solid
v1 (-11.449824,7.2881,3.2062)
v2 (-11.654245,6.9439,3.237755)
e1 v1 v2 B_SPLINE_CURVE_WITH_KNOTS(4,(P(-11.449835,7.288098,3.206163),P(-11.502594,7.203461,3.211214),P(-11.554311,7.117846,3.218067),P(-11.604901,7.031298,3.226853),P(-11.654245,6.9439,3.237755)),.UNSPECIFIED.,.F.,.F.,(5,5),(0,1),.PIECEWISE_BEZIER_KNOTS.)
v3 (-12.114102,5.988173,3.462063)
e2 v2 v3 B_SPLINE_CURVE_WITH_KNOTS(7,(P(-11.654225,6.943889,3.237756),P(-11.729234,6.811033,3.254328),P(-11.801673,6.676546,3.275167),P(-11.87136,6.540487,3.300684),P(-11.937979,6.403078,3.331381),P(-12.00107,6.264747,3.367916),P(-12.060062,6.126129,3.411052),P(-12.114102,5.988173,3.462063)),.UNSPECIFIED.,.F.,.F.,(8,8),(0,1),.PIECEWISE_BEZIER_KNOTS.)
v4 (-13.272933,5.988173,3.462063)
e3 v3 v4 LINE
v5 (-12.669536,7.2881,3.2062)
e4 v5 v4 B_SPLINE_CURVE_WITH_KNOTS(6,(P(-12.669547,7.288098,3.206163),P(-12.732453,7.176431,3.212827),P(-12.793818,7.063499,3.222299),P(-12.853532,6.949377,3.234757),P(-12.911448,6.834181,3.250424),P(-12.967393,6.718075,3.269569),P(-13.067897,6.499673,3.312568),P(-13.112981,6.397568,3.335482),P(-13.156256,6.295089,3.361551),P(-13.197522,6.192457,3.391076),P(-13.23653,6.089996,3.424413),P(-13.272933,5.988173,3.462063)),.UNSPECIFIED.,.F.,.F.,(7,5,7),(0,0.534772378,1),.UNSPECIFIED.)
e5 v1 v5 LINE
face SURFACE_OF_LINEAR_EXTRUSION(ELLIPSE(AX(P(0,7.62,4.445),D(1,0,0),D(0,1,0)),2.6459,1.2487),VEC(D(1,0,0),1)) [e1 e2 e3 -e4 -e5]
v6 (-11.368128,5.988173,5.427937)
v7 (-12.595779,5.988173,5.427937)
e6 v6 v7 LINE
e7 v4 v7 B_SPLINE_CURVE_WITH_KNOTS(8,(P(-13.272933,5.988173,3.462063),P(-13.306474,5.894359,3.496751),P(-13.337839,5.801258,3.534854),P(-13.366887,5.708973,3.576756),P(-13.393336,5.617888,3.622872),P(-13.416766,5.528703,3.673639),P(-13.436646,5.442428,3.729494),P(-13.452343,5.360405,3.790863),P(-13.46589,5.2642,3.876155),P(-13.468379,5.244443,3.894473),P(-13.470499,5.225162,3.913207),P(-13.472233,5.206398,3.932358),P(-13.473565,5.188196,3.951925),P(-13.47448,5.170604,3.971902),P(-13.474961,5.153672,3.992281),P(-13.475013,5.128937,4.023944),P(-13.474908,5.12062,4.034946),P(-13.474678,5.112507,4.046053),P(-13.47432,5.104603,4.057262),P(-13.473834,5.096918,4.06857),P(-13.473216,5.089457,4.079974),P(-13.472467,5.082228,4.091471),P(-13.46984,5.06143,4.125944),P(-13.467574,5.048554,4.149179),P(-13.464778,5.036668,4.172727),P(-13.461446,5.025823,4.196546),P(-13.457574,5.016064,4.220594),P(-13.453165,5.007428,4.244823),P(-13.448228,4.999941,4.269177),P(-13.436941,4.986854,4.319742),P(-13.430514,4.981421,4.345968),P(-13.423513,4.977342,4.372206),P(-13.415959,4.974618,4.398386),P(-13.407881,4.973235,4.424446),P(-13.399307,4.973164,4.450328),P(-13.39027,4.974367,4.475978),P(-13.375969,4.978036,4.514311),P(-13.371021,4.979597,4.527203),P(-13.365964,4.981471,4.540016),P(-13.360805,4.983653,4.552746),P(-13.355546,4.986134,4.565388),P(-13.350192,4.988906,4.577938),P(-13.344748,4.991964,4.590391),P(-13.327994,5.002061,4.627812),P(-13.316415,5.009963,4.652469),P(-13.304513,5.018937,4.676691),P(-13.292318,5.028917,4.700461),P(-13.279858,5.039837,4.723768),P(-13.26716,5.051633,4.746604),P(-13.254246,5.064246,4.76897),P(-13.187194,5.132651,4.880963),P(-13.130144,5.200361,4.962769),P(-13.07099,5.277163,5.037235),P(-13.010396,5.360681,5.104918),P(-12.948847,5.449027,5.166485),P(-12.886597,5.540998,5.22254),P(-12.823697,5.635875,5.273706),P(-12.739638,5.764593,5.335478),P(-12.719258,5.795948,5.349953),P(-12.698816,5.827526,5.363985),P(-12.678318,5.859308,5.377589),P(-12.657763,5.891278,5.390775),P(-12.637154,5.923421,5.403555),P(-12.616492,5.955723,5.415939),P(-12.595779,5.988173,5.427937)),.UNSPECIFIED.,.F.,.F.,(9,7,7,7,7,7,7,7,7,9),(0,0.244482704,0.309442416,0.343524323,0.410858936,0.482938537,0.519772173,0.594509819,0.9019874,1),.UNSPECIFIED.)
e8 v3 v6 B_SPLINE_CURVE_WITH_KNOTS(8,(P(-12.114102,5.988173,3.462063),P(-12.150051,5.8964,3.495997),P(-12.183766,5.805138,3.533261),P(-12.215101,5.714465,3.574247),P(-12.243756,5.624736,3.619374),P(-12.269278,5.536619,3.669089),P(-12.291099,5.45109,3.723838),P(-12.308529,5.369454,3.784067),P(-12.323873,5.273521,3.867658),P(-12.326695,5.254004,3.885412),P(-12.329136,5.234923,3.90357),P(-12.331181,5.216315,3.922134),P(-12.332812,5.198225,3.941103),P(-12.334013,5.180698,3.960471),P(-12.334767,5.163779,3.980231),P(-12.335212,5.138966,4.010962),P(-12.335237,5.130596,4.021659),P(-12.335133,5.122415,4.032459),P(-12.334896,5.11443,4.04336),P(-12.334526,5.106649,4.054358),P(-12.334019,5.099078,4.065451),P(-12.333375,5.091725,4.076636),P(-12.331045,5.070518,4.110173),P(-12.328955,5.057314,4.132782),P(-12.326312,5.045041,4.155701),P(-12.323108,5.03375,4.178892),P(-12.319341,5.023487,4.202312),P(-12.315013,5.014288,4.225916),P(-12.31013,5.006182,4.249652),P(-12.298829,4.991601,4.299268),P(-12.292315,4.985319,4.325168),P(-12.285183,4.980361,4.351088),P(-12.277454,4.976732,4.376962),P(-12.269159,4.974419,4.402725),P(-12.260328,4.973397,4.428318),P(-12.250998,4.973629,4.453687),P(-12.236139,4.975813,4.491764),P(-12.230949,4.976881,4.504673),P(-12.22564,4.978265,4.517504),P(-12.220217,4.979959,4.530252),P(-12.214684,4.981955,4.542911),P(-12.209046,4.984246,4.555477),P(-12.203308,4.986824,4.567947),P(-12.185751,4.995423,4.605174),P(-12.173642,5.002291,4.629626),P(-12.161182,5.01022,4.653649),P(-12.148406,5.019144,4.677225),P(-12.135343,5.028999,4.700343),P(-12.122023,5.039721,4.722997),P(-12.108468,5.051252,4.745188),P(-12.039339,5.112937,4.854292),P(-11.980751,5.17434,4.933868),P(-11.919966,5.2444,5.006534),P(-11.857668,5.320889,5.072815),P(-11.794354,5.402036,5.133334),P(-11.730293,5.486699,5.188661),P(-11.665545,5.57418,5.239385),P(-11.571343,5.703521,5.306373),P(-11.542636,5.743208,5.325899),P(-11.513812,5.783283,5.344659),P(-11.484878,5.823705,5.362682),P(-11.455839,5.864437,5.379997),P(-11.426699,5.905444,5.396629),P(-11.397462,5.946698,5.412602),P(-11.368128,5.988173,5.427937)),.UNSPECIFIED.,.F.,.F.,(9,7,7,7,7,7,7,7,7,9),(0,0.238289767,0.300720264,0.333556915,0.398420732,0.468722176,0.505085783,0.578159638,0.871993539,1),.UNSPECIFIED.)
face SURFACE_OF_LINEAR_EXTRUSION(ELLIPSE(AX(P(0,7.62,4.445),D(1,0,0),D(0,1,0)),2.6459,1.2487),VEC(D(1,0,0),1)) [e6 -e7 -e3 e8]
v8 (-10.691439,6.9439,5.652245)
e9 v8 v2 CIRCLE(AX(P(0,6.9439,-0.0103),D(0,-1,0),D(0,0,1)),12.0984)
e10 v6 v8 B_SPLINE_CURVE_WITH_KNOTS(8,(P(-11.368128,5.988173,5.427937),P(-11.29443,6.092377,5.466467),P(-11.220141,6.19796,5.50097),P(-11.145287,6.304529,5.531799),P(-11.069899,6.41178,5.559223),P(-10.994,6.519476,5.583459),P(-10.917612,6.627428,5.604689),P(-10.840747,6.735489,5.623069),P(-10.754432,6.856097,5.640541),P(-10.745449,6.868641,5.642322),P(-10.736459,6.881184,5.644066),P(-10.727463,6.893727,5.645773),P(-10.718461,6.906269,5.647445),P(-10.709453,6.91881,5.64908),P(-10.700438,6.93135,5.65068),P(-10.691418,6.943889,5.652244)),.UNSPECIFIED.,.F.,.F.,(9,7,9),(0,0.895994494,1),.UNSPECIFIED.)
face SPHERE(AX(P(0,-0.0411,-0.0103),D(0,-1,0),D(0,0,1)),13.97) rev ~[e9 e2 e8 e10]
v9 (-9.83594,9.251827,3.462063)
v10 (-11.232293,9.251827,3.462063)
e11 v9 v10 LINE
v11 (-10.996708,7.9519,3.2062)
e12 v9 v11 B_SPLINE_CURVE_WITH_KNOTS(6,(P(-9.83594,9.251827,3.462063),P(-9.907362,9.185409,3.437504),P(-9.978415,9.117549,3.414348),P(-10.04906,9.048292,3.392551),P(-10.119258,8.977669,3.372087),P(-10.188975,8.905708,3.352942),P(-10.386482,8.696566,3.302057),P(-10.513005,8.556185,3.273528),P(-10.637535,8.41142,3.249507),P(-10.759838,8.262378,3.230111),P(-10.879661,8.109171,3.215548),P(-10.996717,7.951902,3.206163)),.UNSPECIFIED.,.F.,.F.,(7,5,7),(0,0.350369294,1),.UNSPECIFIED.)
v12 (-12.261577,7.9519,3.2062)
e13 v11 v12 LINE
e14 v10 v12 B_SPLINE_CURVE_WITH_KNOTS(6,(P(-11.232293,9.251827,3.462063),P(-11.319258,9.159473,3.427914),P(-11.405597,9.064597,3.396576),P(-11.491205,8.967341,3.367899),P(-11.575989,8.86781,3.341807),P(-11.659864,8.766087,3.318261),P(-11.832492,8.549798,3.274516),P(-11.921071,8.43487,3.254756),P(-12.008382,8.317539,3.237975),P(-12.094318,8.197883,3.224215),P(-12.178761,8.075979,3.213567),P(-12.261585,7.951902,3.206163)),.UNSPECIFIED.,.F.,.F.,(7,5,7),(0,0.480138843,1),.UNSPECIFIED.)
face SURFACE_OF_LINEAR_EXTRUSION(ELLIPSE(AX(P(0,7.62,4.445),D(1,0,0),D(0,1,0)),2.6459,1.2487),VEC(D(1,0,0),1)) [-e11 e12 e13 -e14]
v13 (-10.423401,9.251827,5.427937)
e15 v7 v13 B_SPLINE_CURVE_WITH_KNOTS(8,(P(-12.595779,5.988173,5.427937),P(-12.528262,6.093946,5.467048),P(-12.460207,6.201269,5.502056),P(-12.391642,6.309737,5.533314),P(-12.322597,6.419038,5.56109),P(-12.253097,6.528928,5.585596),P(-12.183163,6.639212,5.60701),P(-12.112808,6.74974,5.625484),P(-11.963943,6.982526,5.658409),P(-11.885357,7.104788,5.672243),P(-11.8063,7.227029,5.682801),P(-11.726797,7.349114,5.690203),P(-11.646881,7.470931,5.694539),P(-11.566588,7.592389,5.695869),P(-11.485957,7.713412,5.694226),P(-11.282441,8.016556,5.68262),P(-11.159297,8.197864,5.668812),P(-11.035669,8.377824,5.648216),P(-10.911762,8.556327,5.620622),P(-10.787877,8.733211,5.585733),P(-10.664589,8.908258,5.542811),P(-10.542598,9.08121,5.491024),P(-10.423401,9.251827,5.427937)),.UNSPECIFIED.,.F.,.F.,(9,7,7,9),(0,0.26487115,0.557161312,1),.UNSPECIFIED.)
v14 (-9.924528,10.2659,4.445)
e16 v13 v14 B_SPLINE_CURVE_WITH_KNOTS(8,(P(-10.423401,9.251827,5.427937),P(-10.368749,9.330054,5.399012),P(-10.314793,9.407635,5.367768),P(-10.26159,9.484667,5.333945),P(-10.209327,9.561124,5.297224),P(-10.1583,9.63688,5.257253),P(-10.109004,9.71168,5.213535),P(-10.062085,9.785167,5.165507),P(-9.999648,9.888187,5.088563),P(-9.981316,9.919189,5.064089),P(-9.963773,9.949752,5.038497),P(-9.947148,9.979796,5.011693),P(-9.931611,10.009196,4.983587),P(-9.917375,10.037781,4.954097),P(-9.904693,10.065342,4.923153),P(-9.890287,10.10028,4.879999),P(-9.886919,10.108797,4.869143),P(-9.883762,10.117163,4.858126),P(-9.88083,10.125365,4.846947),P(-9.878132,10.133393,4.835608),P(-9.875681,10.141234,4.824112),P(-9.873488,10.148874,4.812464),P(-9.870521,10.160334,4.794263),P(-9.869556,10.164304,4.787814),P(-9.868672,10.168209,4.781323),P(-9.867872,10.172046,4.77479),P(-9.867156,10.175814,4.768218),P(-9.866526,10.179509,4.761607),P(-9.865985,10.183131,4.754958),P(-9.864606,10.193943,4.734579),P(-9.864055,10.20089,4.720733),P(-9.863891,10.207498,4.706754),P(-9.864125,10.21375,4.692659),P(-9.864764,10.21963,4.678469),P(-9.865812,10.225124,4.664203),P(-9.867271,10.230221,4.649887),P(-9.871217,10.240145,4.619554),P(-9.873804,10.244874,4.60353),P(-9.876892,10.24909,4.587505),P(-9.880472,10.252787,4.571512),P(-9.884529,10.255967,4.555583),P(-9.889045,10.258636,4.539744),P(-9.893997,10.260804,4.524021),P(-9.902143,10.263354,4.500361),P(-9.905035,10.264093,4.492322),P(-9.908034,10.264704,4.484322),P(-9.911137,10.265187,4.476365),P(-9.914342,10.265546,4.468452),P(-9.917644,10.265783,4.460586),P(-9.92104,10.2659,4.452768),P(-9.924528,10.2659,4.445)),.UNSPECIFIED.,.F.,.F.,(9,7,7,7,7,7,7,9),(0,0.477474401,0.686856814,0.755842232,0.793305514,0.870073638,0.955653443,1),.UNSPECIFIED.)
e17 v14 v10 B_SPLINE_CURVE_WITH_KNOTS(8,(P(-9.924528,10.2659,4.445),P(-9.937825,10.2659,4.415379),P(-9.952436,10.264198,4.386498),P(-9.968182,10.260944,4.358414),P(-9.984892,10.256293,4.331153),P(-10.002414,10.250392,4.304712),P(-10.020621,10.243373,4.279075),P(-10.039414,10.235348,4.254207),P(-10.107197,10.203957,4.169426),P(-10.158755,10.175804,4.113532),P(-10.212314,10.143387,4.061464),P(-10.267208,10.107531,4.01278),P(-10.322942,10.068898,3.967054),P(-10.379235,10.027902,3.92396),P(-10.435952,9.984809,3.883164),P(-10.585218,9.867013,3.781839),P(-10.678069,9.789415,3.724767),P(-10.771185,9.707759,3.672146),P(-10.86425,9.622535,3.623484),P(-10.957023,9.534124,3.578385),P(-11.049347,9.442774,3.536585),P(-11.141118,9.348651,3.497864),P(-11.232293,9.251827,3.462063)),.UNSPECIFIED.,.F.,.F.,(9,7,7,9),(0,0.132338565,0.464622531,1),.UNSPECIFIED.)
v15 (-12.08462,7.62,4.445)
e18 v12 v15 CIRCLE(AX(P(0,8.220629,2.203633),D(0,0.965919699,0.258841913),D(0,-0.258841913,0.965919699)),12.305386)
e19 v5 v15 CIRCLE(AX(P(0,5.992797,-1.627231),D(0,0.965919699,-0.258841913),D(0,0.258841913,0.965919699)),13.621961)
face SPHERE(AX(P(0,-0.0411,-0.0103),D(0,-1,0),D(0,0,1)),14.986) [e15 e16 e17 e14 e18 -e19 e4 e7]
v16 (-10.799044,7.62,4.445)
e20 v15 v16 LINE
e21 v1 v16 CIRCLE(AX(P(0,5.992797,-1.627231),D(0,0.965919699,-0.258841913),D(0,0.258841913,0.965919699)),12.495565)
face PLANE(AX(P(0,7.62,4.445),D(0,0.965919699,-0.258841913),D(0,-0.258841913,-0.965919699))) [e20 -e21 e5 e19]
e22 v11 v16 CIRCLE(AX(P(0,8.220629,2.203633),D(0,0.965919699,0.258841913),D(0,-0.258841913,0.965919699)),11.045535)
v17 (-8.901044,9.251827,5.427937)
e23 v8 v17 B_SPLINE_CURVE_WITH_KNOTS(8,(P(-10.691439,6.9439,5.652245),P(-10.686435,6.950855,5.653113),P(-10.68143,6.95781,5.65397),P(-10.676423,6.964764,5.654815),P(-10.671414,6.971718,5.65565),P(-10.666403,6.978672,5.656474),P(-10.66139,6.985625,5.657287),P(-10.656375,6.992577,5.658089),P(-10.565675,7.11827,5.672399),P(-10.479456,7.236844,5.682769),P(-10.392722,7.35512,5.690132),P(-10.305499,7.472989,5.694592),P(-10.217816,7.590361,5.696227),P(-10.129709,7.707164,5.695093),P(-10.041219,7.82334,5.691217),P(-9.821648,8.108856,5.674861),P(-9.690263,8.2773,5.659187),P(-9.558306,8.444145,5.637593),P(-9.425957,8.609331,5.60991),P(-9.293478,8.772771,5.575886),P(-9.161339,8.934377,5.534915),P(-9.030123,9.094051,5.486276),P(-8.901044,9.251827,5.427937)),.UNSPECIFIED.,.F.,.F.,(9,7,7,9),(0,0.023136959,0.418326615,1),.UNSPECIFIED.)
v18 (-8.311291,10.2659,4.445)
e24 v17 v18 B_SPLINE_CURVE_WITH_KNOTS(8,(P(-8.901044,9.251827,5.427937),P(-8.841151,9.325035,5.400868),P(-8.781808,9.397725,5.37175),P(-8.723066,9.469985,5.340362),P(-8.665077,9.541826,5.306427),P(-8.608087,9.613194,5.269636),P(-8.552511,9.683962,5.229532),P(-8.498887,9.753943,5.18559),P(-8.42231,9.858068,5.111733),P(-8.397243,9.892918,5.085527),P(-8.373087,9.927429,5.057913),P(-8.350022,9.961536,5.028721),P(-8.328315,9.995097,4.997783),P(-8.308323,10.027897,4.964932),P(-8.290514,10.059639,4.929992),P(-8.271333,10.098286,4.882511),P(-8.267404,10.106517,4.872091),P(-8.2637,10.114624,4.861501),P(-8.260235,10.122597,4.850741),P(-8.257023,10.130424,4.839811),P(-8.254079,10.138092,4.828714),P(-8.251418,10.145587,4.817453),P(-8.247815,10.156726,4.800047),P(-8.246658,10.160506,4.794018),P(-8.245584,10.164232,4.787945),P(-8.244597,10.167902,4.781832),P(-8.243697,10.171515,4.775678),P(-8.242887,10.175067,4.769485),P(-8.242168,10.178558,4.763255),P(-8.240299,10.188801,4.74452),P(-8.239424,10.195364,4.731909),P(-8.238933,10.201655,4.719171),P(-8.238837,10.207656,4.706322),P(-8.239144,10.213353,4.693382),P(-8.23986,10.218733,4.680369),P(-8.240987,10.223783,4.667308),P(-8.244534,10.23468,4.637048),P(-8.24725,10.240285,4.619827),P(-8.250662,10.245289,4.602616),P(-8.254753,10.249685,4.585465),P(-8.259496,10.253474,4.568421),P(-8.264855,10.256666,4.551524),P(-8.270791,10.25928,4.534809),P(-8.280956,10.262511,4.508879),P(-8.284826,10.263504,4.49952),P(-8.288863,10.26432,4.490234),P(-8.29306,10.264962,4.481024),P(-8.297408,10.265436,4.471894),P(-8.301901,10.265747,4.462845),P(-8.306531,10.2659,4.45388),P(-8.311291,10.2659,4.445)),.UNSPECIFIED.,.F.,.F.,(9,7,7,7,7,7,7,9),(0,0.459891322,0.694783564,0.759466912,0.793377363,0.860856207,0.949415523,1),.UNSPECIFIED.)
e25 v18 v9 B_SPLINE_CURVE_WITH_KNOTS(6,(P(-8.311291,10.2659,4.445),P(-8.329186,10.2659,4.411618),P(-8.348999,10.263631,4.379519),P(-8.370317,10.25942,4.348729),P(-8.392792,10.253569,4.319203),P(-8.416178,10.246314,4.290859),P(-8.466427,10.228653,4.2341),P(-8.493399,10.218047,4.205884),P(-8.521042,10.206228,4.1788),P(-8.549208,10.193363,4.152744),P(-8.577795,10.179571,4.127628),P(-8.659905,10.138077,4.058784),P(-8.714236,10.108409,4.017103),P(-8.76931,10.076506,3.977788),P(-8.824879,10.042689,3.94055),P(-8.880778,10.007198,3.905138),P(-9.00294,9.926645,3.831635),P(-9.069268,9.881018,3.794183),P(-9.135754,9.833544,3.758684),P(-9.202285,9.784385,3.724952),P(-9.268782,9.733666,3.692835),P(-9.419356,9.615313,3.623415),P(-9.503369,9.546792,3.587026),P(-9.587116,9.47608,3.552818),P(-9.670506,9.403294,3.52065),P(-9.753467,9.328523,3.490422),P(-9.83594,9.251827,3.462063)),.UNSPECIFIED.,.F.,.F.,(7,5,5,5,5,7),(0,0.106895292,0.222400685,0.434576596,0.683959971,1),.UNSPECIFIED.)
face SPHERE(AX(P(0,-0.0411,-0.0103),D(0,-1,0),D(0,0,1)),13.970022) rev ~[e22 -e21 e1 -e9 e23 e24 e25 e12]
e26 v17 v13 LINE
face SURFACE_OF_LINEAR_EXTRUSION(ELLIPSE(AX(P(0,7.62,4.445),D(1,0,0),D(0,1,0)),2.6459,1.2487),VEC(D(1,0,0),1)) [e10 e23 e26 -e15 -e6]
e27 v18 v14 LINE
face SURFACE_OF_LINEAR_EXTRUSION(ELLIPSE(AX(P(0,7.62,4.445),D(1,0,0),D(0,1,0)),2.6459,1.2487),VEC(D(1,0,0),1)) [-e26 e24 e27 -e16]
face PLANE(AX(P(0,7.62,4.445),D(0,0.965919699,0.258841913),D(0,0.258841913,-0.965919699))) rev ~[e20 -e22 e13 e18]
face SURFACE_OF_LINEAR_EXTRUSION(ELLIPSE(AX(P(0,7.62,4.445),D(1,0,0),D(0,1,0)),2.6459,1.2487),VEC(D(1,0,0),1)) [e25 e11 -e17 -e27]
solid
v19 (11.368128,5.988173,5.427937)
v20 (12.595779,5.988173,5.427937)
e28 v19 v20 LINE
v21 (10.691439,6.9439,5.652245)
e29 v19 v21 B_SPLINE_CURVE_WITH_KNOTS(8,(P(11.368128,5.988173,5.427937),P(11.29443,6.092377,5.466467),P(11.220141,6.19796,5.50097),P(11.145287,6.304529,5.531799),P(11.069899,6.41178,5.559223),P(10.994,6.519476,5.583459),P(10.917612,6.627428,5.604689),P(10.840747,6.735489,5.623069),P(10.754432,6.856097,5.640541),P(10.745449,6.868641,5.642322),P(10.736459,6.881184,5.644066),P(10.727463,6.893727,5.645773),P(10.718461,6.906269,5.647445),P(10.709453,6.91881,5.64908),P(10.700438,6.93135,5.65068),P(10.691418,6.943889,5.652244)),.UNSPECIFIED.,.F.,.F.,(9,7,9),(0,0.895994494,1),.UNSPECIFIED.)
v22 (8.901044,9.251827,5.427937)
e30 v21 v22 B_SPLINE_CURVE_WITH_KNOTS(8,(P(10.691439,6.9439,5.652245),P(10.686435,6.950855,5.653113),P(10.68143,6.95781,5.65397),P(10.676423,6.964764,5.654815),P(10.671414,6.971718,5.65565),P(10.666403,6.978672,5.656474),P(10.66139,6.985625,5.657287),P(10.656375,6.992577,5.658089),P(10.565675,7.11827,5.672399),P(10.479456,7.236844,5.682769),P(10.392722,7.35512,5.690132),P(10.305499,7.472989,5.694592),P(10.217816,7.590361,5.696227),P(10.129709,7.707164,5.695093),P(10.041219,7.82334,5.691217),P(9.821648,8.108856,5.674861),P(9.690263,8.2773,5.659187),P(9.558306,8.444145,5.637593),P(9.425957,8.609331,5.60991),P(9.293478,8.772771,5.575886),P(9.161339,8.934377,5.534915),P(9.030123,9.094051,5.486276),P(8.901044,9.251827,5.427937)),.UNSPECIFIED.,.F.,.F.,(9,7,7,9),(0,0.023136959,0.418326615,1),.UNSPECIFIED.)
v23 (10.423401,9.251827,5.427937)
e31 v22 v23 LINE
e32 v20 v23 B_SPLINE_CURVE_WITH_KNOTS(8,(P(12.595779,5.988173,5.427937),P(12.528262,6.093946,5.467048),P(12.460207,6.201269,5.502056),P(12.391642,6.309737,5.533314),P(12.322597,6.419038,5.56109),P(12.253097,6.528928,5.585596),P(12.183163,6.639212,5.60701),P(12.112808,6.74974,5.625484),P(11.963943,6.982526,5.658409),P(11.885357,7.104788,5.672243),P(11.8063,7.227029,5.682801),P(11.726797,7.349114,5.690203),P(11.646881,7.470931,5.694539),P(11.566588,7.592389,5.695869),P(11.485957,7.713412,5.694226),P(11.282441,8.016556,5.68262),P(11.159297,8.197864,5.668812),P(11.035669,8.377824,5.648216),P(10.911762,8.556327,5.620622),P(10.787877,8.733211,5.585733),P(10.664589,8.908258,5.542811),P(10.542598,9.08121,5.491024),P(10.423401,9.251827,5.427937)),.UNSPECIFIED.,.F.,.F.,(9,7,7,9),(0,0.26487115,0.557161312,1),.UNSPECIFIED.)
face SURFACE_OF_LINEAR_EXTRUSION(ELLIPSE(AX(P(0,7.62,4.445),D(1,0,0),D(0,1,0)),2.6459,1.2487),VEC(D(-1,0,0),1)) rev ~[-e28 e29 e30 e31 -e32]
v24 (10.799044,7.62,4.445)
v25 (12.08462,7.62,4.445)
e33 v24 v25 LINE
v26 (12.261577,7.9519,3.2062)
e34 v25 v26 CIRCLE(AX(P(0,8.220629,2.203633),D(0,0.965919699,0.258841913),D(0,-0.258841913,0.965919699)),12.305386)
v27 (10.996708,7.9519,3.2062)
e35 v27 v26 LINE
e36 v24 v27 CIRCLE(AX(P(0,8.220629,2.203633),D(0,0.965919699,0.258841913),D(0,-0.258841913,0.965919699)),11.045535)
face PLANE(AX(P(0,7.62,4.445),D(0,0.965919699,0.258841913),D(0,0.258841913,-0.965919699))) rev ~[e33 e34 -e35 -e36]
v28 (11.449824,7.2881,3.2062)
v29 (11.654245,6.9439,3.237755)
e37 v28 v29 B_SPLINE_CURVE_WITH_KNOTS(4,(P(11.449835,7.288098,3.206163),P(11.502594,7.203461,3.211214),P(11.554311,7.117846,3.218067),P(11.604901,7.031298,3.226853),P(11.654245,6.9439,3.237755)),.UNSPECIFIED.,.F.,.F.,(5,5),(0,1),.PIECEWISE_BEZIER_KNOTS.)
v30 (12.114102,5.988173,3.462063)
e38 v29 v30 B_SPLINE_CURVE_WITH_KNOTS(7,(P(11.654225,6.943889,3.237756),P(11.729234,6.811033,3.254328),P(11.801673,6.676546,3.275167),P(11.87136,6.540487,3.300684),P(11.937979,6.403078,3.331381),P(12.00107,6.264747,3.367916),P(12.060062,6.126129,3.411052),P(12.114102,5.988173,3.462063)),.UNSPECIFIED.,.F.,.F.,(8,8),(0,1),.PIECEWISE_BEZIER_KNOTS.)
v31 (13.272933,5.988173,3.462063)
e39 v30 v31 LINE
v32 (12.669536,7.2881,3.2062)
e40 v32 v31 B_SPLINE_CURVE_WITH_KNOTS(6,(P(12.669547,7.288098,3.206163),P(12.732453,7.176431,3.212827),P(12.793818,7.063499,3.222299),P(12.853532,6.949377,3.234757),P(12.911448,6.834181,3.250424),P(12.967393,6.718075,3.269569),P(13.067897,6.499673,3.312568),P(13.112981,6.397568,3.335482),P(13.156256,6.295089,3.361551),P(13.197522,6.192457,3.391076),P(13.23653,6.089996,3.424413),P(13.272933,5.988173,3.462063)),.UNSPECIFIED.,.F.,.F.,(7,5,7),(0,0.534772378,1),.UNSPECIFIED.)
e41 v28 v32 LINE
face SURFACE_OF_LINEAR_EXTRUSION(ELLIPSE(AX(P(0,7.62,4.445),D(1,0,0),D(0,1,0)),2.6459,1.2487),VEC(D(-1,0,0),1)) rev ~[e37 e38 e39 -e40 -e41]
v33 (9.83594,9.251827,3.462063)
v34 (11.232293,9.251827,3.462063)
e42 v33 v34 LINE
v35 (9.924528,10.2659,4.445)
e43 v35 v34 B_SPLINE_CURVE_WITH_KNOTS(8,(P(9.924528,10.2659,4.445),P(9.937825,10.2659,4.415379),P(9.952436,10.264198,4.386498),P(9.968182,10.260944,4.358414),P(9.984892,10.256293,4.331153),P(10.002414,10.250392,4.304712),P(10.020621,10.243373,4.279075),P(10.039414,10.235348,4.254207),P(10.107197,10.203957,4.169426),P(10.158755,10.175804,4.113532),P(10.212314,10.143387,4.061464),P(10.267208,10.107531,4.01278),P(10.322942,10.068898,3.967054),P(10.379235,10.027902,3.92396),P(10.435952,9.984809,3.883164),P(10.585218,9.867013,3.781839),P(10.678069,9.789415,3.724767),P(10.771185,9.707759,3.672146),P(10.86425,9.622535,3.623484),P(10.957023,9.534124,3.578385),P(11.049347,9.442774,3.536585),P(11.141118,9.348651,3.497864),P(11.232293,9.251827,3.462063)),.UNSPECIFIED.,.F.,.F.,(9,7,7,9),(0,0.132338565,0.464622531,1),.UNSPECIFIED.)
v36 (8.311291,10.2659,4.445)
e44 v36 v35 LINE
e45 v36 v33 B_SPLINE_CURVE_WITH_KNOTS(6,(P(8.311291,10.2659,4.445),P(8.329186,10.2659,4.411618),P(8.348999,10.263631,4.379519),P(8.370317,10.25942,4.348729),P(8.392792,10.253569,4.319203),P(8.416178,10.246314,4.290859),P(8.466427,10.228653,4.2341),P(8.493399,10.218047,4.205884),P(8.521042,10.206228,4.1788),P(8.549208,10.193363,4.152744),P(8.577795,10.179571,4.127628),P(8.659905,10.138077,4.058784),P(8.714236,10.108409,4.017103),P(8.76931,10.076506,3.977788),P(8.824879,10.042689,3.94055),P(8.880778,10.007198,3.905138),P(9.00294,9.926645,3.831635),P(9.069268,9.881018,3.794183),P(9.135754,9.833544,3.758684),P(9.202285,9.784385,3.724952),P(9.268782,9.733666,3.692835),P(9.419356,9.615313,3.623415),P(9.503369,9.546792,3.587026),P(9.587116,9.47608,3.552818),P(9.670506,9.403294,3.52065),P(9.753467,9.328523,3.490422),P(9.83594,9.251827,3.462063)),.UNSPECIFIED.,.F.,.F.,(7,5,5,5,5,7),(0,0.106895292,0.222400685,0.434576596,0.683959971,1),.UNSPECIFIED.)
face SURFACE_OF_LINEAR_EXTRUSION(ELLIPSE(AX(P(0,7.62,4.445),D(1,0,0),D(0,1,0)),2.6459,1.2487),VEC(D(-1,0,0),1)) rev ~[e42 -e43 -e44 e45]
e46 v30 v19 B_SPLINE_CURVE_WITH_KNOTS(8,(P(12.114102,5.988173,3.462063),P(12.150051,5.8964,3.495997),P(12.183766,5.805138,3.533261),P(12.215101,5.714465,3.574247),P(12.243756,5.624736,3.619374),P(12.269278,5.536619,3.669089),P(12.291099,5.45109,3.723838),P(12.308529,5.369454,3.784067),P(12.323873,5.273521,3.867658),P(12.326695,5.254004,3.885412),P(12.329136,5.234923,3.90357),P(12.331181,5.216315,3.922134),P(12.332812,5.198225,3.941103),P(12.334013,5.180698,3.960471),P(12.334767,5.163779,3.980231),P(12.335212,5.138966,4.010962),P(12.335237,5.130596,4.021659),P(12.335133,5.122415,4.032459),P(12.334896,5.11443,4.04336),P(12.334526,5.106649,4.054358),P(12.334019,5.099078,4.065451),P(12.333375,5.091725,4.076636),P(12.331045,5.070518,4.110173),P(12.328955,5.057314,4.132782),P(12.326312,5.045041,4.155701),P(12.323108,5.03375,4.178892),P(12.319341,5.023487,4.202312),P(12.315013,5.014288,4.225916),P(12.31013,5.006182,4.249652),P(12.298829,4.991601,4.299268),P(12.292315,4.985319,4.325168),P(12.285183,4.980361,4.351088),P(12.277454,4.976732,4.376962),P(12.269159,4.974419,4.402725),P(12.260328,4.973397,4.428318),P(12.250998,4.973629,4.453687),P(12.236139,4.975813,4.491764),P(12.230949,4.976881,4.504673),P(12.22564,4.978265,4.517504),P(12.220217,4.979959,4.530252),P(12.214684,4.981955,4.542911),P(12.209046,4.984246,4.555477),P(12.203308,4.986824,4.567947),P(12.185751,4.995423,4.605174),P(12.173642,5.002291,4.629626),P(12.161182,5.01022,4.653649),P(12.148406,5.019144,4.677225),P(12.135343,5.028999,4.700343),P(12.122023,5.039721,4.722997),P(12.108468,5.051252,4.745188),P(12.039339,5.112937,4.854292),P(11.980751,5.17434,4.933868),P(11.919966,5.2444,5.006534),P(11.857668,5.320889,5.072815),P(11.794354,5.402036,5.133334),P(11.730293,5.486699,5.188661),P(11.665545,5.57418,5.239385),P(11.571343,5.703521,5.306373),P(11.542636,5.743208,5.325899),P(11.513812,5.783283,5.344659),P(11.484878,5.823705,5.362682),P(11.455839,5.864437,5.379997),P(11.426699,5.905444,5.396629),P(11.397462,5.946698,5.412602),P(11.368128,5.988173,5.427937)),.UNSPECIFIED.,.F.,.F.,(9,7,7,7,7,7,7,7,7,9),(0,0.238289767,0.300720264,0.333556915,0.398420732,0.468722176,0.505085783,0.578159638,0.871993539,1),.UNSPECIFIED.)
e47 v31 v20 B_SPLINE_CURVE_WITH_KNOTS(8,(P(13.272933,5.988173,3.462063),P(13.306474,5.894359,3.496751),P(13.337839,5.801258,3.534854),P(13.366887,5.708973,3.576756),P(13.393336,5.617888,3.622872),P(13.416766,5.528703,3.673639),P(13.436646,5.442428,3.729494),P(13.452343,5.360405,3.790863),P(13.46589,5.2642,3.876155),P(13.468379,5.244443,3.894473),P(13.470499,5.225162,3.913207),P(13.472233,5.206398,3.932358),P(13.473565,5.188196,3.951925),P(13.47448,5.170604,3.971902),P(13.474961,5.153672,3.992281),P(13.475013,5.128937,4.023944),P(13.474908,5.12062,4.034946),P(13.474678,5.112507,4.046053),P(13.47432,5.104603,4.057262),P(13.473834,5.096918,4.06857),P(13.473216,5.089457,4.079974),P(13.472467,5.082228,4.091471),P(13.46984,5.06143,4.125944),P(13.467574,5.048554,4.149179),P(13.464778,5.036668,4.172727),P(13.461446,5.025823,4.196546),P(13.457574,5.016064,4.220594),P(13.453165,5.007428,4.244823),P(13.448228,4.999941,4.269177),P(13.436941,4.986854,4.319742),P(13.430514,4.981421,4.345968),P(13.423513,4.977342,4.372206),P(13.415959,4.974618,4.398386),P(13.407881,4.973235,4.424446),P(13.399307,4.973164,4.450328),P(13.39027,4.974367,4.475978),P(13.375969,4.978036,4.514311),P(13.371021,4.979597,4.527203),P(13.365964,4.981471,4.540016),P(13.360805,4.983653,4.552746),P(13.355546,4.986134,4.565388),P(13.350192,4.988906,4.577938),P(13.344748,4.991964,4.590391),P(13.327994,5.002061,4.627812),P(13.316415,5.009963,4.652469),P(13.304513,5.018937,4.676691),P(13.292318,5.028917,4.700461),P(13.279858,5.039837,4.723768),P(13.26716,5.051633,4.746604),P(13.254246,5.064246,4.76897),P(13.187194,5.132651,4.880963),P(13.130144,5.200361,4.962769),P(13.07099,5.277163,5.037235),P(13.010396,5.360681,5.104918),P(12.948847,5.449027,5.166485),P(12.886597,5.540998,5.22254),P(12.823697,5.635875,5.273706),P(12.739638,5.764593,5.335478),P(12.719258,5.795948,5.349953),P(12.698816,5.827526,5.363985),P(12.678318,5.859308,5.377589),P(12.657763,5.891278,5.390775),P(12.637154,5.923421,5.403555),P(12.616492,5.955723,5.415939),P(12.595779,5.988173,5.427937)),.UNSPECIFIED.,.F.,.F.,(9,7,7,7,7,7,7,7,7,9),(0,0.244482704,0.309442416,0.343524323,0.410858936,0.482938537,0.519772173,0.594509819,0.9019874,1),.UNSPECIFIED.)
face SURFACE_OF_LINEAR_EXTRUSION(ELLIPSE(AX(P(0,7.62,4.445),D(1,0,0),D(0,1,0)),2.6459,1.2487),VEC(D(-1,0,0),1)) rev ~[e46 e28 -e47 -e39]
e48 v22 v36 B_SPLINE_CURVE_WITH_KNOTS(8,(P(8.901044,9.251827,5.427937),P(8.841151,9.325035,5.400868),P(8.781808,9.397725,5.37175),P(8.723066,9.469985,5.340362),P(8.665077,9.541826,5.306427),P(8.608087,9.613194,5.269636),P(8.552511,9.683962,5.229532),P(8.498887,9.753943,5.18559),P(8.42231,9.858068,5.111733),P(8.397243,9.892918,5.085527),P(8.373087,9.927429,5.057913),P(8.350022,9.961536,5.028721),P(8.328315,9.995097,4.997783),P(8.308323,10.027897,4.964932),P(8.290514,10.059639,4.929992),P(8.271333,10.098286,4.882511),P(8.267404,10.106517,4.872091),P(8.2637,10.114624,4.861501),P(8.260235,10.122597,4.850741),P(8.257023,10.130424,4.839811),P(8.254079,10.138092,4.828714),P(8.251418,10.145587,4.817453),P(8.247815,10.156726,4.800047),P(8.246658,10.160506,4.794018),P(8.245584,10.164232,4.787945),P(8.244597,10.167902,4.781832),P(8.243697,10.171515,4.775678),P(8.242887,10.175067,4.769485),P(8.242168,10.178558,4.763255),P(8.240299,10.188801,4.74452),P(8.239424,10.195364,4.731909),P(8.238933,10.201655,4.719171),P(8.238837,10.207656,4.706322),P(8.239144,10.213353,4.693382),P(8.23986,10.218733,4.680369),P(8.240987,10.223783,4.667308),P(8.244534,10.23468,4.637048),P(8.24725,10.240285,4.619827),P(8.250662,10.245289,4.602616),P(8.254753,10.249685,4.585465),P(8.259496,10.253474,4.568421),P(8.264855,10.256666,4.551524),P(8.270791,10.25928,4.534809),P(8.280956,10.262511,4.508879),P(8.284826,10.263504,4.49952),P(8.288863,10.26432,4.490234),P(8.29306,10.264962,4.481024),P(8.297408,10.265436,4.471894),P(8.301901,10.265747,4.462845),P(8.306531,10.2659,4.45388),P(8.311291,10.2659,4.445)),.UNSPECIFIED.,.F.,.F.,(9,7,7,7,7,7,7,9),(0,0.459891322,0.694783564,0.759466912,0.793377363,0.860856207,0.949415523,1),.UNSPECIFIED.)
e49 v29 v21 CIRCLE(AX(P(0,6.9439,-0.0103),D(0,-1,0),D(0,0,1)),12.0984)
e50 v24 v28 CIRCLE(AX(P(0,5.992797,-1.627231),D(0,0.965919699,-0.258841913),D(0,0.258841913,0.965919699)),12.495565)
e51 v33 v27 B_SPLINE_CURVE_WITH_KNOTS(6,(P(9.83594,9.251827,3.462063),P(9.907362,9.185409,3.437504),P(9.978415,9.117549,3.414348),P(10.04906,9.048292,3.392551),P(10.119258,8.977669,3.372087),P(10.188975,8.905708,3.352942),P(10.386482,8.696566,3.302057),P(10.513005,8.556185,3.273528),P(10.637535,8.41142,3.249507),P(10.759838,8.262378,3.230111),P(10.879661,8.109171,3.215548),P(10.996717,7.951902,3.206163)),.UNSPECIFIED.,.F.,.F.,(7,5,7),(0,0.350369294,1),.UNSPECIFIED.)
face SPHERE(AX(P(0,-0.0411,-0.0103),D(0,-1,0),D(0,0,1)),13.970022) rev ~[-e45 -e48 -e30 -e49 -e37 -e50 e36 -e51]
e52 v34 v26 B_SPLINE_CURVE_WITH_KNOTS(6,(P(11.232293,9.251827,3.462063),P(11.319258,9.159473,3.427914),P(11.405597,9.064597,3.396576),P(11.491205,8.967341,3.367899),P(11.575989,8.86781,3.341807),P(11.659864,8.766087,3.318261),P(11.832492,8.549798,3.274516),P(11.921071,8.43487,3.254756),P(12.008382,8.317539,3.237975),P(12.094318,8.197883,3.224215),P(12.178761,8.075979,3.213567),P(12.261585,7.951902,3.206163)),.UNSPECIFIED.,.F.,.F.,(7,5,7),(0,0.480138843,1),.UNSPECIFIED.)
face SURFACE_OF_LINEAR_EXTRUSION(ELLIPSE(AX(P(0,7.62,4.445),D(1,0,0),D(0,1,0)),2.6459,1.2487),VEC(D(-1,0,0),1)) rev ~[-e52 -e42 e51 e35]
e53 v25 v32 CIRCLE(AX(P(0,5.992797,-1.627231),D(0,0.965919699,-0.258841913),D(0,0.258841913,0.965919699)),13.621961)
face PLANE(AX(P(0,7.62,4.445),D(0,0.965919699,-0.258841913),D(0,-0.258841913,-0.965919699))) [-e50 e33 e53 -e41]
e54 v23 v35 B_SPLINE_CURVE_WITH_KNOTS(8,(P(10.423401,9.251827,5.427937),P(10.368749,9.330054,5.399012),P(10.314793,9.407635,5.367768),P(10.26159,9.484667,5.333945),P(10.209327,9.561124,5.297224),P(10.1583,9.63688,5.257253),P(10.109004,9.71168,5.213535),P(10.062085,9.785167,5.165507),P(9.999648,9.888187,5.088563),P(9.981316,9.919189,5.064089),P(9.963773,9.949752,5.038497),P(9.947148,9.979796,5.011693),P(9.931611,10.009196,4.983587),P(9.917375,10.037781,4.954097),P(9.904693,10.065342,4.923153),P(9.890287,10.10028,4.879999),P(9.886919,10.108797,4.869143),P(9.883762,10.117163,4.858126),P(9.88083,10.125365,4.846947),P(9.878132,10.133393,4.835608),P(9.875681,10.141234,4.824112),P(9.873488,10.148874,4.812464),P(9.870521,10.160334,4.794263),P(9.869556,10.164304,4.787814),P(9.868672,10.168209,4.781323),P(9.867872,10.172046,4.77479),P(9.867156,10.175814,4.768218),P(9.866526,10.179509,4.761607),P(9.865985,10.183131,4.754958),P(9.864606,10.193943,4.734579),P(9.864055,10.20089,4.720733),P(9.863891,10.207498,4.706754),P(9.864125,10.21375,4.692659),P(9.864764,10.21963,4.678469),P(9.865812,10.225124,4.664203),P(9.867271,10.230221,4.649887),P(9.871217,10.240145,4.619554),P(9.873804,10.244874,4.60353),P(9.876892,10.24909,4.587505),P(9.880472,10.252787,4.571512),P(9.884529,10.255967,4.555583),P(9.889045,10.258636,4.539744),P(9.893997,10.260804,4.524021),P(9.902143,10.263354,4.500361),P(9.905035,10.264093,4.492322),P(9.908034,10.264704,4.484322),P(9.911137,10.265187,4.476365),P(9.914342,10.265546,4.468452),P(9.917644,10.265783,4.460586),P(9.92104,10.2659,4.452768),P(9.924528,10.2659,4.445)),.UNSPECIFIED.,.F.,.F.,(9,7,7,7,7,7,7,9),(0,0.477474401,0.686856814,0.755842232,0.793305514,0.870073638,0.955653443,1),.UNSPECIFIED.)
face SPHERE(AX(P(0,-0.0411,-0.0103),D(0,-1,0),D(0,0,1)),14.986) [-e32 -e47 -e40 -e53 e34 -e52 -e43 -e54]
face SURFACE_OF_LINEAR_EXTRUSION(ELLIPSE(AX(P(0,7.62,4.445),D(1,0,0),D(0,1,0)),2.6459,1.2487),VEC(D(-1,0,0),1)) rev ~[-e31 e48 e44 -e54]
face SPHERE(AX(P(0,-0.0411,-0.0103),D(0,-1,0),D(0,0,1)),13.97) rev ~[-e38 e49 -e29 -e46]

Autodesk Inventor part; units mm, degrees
ref_plane "YZ Plane" through (0, 0, 0) normal (1, 0, 0) x (0, 1, 0)
ref_plane "XZ Plane" through (0, 0, 0) normal (0, 1, 0) x (-1, 0, 0)
ref_plane "XY Plane" through (0, 0, 0) normal (0, 0, 1) x (1, 0, 0)
sketch "Sketch1" plane through (0, 0, 0) normal (1, 0, 0) x (0, 1, 0)
  circle A0 centre (7.62, 4.445) radius 1.905
  line L0 (7.62, 4.445) -> (7.62, 2.54)
  line L1 (7.62, 4.445) -> (8.1131, 2.6049)
  line L2 (7.62, 4.445) -> (7.1269, 2.6049)
  ellipse E0 centre (7.62, 4.445) end of major axis (10.2659, 4.445) minor radius 1.2487
  line L3 (7.62, 4.445) -> (7.9519, 3.2062)
  line L4 (7.62, 4.445) -> (7.2881, 3.2062)
  point P0 (0, 0)
  dimension "d0" = 3.81
  dimension "d1" = 7.62
  dimension "d2" = 4.445
  dimension "d3" = 15
  dimension "d4" = 15
extrude "Extrusion1" add sketch "Sketch1" along normal mid plane 50.8 contours E0 A0 | A0 E0 L1 L2 | A0 E0 picked at (5.4761, 4.4598) picked at (9.7253, 4.2127)
sketch "Sketch2" plane through (0, 0, 0) normal (1, 0, 0) x (0, 1, 0)
  arc A0 (-7.0261, 12.0881) -> (6.9439, 12.0881) centre (-0.0411, -0.0103) ccw
  circle A1 centre (-0.0411, -0.0103) radius 13.97
  circle A2 centre (-0.0411, -0.0103) radius 14.986
  line L0 (14.9449, -0.0103) -> (-15.0271, -0.0103)
  line L1 (14.9449, -0.0103) -> (13.9289, -0.0103)
  line L2 (-14.0111, -0.0103) -> (-15.0271, -0.0103)
  point P0 (0, 0)
  dimension "d7" = 1.016
revolve "Revolution1" cut sketch "Sketch2" angle 360 about axis through (0, 14.9449, -0.0103) along (0, -1, 0) keep common part contours A0 L0 A2 A1
equation "\"d4\" = d3"
properties part number "PacmanEye"
